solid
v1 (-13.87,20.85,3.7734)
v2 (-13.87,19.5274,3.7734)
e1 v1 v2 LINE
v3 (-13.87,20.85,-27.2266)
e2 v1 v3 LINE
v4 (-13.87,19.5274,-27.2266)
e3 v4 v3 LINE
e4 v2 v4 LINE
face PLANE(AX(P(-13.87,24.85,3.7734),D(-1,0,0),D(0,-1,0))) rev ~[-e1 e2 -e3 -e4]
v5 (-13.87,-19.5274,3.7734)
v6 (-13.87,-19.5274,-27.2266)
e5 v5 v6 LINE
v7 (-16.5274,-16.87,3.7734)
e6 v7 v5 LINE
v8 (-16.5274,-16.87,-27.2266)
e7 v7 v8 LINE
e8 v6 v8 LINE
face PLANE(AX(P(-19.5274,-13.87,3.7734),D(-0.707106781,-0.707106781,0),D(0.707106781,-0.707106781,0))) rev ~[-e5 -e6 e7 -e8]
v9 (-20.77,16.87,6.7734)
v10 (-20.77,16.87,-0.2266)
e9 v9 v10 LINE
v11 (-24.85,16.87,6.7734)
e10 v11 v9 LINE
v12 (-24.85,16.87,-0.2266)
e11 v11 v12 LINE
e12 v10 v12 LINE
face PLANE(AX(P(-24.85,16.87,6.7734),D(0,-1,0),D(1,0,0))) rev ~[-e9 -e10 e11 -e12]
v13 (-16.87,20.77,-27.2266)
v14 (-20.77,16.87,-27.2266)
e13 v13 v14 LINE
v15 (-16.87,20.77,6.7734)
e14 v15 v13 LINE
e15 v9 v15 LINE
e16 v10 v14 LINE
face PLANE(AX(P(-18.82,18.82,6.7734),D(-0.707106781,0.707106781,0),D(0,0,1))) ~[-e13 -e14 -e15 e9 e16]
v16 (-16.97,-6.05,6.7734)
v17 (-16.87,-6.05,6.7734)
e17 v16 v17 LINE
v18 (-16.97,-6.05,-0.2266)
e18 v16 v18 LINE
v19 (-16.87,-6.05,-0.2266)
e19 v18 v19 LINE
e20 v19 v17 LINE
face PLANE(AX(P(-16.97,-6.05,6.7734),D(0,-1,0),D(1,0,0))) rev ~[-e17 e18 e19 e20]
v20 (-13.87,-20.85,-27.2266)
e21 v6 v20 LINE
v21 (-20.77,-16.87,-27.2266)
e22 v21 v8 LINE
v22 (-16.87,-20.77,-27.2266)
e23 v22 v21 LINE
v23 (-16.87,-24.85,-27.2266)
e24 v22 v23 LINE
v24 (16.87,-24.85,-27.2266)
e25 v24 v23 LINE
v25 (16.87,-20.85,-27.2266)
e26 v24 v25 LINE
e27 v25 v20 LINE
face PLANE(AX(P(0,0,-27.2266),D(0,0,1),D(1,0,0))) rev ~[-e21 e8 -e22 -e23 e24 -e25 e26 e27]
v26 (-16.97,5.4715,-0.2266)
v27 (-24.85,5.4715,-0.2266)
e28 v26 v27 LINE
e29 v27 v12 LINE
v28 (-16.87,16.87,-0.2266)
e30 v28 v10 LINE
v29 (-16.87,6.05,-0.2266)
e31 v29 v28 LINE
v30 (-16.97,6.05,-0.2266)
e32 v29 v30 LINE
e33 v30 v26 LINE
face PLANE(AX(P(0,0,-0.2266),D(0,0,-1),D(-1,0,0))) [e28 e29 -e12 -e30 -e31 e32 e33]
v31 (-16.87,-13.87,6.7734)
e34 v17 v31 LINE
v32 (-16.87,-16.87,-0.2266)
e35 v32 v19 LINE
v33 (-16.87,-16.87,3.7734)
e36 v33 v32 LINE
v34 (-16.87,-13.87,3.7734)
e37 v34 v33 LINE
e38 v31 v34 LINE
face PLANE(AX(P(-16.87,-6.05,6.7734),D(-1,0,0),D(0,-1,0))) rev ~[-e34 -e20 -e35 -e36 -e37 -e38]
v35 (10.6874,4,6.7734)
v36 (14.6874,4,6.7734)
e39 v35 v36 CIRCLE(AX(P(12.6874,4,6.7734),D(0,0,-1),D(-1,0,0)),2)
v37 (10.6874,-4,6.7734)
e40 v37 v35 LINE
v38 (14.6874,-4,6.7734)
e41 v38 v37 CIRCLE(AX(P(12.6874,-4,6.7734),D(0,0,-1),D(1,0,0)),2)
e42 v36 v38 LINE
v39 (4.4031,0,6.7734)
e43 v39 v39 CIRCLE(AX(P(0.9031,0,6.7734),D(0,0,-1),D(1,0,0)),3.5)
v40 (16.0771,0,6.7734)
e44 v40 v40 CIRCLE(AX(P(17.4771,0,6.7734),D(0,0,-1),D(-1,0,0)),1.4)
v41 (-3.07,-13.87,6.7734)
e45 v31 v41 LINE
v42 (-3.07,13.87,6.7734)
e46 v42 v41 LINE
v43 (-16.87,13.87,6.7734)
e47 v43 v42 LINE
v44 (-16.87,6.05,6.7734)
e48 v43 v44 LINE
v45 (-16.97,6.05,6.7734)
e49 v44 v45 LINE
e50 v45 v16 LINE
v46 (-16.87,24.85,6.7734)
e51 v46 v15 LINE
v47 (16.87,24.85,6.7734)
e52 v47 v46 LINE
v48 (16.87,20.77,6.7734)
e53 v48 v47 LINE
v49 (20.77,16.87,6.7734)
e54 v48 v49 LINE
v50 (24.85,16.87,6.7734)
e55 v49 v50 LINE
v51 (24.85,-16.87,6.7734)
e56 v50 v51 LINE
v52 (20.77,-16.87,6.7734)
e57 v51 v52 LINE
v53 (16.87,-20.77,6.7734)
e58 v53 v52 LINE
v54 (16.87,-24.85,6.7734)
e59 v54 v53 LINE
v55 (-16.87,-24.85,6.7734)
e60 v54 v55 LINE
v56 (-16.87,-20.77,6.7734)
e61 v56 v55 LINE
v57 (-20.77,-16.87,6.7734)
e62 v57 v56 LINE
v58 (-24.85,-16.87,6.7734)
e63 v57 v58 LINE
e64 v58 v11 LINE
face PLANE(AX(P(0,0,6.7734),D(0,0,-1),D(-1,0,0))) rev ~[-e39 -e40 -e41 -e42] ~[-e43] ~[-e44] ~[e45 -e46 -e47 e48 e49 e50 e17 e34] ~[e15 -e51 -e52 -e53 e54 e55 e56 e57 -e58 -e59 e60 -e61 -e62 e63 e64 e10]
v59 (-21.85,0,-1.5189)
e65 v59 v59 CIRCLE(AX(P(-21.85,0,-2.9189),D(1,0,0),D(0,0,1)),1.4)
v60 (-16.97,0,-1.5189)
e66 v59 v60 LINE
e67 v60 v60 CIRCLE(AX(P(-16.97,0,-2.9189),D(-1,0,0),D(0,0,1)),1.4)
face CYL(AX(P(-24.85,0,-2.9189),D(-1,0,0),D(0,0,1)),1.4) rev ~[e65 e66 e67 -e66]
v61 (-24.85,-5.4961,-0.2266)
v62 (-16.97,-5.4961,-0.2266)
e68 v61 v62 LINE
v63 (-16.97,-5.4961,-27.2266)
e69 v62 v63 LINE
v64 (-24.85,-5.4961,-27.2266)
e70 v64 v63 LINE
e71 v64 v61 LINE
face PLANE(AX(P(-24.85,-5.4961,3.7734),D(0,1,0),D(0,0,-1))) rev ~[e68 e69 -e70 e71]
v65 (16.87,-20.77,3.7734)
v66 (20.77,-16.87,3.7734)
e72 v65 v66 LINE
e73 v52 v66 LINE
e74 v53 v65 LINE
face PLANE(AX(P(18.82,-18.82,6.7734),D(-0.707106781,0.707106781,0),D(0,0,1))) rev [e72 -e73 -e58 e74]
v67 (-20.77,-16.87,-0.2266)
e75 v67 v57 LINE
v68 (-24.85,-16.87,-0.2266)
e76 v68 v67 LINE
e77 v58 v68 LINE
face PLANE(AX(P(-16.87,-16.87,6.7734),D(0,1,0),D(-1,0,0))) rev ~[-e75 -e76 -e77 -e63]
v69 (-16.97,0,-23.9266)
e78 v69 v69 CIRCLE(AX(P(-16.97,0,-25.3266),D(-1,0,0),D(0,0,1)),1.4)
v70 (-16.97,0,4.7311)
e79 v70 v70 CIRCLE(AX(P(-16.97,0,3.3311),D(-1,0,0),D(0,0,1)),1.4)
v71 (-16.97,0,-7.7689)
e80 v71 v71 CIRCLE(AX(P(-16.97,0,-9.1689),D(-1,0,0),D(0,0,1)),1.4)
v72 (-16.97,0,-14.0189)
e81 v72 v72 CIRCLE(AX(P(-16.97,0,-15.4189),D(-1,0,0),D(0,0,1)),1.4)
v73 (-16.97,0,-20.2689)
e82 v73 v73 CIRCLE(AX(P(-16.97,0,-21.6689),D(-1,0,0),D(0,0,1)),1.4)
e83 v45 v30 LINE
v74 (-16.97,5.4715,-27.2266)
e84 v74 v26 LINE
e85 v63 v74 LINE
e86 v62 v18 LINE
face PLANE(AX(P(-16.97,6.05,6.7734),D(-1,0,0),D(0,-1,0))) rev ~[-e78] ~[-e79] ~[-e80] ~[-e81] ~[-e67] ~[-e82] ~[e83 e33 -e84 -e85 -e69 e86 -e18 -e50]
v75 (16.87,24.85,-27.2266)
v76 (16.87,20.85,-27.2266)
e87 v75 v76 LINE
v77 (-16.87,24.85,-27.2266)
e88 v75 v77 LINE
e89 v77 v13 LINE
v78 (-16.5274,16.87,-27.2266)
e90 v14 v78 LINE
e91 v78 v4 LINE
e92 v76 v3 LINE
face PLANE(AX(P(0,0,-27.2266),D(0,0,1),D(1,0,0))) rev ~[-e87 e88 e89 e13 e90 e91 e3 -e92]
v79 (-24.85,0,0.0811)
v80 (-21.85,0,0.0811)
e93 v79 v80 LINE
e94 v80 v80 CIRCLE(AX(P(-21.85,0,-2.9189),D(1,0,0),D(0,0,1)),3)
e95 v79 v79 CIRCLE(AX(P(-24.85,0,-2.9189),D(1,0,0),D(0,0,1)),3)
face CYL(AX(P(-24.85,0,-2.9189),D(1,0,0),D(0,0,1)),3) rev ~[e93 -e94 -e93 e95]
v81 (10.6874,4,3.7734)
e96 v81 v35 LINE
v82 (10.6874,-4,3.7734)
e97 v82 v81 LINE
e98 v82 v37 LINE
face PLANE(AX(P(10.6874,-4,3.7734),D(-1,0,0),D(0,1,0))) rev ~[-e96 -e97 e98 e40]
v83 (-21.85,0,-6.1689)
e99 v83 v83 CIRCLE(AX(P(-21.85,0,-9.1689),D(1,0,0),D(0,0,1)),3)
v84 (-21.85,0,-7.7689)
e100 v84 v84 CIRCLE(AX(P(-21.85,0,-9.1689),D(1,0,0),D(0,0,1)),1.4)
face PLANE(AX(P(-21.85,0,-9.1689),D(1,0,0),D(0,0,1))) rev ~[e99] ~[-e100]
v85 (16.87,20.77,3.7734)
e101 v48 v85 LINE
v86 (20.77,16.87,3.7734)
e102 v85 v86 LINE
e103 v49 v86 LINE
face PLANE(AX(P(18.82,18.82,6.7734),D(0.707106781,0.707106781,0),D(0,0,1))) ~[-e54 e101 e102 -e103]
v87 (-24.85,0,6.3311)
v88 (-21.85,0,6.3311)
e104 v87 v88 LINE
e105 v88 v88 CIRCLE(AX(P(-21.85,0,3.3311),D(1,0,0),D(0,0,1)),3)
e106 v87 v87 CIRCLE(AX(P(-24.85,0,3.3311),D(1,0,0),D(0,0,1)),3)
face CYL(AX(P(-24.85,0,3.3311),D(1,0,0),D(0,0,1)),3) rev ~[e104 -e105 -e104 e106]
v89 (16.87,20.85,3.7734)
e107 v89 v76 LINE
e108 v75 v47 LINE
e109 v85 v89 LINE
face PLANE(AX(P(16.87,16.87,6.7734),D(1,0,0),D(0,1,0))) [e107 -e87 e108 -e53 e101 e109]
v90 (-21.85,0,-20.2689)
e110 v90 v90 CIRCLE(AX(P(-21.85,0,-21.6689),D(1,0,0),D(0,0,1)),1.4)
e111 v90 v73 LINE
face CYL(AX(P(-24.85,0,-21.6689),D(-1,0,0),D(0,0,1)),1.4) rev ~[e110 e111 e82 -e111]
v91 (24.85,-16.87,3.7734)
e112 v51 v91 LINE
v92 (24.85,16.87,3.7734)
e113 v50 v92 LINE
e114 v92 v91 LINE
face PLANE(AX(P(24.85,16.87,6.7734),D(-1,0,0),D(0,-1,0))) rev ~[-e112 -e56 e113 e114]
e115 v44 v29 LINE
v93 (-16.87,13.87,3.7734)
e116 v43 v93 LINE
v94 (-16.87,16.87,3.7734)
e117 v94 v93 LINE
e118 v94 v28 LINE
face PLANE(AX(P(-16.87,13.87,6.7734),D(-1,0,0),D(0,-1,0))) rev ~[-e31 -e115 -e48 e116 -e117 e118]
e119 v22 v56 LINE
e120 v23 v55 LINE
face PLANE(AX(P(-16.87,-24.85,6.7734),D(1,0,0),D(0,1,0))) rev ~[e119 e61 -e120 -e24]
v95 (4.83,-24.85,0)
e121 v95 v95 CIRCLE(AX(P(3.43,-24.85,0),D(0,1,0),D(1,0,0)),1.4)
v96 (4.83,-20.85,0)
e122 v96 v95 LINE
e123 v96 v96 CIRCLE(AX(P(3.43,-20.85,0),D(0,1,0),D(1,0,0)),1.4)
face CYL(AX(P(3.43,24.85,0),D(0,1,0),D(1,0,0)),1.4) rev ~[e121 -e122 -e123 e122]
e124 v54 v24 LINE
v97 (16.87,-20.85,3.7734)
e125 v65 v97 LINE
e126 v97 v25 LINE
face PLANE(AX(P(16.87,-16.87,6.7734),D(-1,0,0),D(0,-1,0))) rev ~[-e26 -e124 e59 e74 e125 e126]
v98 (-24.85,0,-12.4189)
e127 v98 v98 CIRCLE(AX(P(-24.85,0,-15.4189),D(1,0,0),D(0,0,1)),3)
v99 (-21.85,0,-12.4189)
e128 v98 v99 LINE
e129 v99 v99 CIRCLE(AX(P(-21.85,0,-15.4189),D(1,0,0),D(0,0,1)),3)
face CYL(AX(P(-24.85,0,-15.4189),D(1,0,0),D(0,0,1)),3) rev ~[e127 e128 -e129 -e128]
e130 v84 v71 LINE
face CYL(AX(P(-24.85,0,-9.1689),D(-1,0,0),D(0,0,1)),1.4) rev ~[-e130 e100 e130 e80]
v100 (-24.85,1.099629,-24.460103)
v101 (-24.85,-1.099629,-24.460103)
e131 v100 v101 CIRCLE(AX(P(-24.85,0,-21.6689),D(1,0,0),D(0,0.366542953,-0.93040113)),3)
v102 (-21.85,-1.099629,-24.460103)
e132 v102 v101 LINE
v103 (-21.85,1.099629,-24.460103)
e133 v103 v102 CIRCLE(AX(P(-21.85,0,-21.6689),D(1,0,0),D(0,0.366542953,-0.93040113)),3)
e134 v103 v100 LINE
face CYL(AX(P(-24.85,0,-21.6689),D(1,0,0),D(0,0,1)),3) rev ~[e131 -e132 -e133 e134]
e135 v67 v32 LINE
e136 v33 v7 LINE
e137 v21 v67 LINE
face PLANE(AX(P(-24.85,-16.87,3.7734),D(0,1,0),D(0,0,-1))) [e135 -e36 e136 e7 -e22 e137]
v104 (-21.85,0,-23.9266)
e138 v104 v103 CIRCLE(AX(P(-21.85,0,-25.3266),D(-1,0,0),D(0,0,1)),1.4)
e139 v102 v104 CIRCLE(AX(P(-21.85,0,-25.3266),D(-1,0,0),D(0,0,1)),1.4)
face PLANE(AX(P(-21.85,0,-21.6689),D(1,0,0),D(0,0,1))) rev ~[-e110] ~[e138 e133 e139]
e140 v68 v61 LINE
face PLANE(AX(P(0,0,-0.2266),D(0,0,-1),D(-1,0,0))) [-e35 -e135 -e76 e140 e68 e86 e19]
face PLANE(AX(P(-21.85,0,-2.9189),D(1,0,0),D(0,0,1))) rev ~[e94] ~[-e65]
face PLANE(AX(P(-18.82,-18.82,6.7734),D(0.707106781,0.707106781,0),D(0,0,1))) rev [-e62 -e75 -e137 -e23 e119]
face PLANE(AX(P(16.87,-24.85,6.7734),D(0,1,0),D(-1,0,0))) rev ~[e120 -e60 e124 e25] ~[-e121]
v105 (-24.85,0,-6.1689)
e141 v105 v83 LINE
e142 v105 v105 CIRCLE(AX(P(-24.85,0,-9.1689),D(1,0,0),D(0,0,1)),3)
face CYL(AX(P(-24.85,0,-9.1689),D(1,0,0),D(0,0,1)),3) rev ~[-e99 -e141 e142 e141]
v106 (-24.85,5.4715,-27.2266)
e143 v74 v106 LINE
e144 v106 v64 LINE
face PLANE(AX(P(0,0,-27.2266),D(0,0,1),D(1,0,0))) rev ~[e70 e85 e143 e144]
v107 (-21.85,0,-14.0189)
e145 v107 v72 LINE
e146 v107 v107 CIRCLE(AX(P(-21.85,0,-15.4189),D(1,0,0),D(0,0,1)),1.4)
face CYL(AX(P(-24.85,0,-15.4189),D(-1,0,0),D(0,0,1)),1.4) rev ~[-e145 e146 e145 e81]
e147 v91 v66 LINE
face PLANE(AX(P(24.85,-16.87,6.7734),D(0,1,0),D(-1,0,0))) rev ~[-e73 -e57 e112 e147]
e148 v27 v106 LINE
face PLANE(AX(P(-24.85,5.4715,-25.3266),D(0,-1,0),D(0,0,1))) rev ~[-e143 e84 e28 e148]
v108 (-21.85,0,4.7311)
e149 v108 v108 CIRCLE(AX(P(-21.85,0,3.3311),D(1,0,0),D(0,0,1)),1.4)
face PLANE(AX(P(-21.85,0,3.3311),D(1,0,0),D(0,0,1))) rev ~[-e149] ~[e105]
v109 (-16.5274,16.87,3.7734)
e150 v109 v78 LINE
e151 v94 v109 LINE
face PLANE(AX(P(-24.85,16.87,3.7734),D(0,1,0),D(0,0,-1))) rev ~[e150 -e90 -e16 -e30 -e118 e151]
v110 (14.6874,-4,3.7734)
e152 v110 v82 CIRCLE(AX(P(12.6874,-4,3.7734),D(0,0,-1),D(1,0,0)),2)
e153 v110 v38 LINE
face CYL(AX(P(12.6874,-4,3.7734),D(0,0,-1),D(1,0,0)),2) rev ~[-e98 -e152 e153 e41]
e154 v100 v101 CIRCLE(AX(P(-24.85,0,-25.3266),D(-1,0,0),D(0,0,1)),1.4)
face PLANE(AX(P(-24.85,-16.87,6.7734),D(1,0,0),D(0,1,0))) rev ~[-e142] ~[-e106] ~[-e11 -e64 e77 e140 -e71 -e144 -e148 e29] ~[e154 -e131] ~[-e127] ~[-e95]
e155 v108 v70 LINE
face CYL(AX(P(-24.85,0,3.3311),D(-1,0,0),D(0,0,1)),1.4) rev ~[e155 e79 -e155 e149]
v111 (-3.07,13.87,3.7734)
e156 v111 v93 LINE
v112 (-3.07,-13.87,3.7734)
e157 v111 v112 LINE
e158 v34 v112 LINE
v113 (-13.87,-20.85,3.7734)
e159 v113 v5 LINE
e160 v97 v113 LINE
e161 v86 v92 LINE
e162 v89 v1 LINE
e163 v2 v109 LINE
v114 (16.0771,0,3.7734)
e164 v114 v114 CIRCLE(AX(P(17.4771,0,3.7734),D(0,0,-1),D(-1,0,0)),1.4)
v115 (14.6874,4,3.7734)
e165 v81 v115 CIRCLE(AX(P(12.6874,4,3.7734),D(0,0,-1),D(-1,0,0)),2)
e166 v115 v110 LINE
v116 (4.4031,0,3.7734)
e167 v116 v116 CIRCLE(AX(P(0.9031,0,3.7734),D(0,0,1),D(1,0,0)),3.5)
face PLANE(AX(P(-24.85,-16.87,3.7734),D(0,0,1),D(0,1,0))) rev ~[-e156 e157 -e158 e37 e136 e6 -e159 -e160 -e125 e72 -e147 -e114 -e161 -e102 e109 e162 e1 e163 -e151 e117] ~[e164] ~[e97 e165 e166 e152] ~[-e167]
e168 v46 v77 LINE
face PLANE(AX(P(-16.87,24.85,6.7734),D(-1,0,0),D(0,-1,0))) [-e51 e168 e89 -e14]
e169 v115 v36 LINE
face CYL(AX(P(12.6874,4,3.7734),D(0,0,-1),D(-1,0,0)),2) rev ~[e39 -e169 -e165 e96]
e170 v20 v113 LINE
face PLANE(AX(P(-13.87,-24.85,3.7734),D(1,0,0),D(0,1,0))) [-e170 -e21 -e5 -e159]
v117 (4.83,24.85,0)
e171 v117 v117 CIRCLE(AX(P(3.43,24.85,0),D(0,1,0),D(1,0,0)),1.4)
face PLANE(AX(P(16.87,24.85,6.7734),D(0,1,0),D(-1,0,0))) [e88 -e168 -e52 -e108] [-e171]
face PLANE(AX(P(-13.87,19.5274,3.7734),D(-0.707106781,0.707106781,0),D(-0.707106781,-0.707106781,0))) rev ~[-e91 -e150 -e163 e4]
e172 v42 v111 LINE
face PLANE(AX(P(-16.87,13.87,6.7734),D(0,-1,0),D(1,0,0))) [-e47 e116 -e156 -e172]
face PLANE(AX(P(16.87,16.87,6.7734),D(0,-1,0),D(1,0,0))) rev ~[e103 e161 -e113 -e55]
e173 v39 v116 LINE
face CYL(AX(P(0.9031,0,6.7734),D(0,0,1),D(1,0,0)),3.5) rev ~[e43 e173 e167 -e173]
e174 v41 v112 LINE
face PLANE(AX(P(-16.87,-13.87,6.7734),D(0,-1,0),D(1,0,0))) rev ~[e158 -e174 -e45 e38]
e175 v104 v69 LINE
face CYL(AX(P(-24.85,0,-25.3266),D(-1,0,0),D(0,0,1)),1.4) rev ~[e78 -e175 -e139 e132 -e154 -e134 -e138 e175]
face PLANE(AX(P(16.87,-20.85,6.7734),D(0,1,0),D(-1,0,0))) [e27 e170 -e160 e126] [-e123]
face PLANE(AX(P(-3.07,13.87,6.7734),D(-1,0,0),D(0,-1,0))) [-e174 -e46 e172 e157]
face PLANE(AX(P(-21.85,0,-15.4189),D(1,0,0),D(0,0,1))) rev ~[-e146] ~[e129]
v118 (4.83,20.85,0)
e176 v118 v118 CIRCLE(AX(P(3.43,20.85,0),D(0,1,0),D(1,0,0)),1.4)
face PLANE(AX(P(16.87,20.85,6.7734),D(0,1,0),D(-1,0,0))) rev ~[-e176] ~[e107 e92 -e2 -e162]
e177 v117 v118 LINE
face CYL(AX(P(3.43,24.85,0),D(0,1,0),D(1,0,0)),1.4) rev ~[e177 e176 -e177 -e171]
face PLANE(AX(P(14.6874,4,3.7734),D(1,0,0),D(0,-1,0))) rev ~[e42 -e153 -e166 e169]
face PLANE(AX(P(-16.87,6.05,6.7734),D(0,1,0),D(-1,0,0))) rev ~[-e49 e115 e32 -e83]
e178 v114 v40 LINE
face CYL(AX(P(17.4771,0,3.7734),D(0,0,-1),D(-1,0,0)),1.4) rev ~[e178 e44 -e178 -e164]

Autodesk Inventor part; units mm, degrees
ref_plane "Work Plane1" through (0, 0, 6.7734) normal (0, 0, -1) x (-1, 0, 0)
sketch "Sketch1" plane through (0, 0, 6.7734) normal (0, 0, -1) x (-1, 0, 0)
  line L0 (24.85, 16.87) -> (16.87, 16.87)
  line L1 (16.87, -16.87) -> (24.85, -16.87)
  line L2 (24.85, -16.87) -> (24.85, 16.87)
  line L3 (-16.87, 24.85) -> (16.87, 24.85)
  line L4 (16.87, 24.85) -> (16.87, 13.87)
  line L5 (16.87, 13.87) -> (-16.87, 13.87)
  line L6 (-16.87, 13.87) -> (-16.87, 24.85)
  line L7 (-16.87, 16.87) -> (-24.85, 16.87)
  line L8 (-24.85, 16.87) -> (-24.85, -16.87)
  line L9 (-24.85, -16.87) -> (-16.87, -16.87)
  line L10 (-16.87, -24.85) -> (16.87, -24.85)
  line L11 (16.87, -24.85) -> (16.87, -13.87)
  line L12 (16.87, -13.87) -> (-16.87, -13.87)
  line L13 (-16.87, -13.87) -> (-16.87, -24.85)
  circle A0 centre (-22.53, 11.5) radius 1.025 construction
  circle A1 centre (-22.53, -11.5) radius 1.025 construction
  line L14 (-11.03, -14.1) -> (-11.03, -12.75) construction
  arc A2 (-11.03, 12.75) -> (-11.03, -12.75) centre (-11.03, 0) ccw construction
  line L15 (-11.03, 12.75) -> (-11.03, 14.1) construction
  line L16 (-11.03, 14.1) -> (-22.53, 14.1) construction
  arc A3 (-22.53, 14.1) -> (-25.13, 11.5) centre (-22.53, 11.5) ccw construction
  line L17 (-25.13, 11.5) -> (-25.13, -11.5) construction
  arc A4 (-25.13, -11.5) -> (-22.53, -14.1) centre (-22.53, -11.5) ccw construction
  line L18 (-22.53, -14.1) -> (-11.03, -14.1) construction
  circle A5 centre (-11.03, 0) radius 12.75 construction
  circle A6 centre (0.47, 11.5) radius 1.025 construction
  circle A7 centre (0.47, -11.5) radius 1.025 construction
  circle A8 centre (-22.53, -11.5) radius 1.025 construction
  circle A9 centre (-22.53, 11.5) radius 1.025 construction
  line L19 (-22.53, -14.1) -> (0.47, -14.1) construction
  arc A10 (-25.13, -11.5) -> (-22.53, -14.1) centre (-22.53, -11.5) ccw construction
  line L20 (-25.13, 11.5) -> (-25.13, -11.5) construction
  arc A11 (-22.53, 14.1) -> (-25.13, 11.5) centre (-22.53, 11.5) ccw construction
  line L21 (0.47, 14.1) -> (-22.53, 14.1) construction
  arc A12 (3.07, 11.5) -> (0.47, 14.1) centre (0.47, 11.5) ccw construction
  line L22 (3.07, -11.5) -> (3.07, 11.5) construction
  arc A13 (0.47, -14.1) -> (3.07, -11.5) centre (0.47, -11.5) ccw construction
  line L23 (-16.87, 13.87) -> (3.07, 13.87)
  line L24 (3.07, 13.87) -> (3.07, -13.87)
  line L25 (3.07, -13.87) -> (-16.87, -13.87)
  line L26 (16.87, 6.05) -> (16.97, 6.05)
  line L27 (16.97, 6.05) -> (16.97, -6.05)
  line L28 (16.97, -6.05) -> (16.87, -6.05)
  line L29 (16.87, -6.05) -> (16.87, -4.7)
  line L30 (16.87, 4.7) -> (16.87, 6.05)
  line L31 (16.87, 16.87) -> (16.87, 6.05)
  line L32 (16.87, -6.05) -> (16.87, -16.87)
  line L33 (5.77, -13.3) -> (13.57, -13.3) projected
  line L34 (13.57, 13.1) -> (5.77, 13.1) projected
  circle A14 centre (-4.7031, 0) radius 7 construction
  circle A15 centre (-4.7031, 0) radius 4 construction
  point P0 (0, 0)
  point P1 (16.87, 16.87)
  point P2 (3.07, 13.87)
  point P3 (3.07, 13.87)
  point P4 (-16.87, -16.87)
  dimension "d6" = 3
  dimension "d7" = 3
  dimension "d140" = 8
extrude "Extrusion1" add sketch "Sketch1" along normal blind 3 contours L2 L1 L11 L32 L28 L27 L26 L31 L4 L0 | L4 L5 L6 L3 | L11 L10 L13 L12 | L24 L12 L13 L9 L8 L7 L6 L5
chamfer "Chamfer1" distance 3.9 angle 45 4 edges at (-16.87, -16.87, 5.2734) (16.87, -16.87, 5.2734) (16.87, 16.87, 5.2734) (-16.87, 16.87, 5.2734)
sketch "Sketch2" plane through (0, 0, 3.7734) normal (0, 0, -1) x (-1, 0, 0)
  line L0 (3.07, 13.87) -> (16.87, 13.87) projected
  line L1 (16.87, -13.87) -> (3.07, -13.87) projected
  line L2 (-16.87, -20.77) -> (-16.87, -24.85) construction
  line L3 (-16.87, -24.85) -> (16.87, -24.85) construction
  line L4 (16.87, -6.05) -> (16.87, -13.87) projected
  line L5 (16.87, 20.77) -> (16.87, 24.85) construction
  line L6 (16.87, 24.85) -> (-16.87, 24.85) construction
  line L7 (-16.87, 24.85) -> (-16.87, 20.77) construction
  line L8 (-13.8689, -21.8489) -> (-13.8689, -19.5269)
  line L9 (-13.8689, -19.5269) -> (-19.5269, -13.8689)
  line L10 (-19.5269, -13.8689) -> (-21.8489, -13.8689)
  line L11 (-21.8489, 13.8689) -> (-19.5269, 13.8689)
  line L12 (-19.5269, 13.8689) -> (-13.8689, 19.5269)
  line L13 (-13.8689, 19.5269) -> (-13.8689, 21.8489)
  line L14 (-13.8689, 21.8489) -> (-13.8689, 24.85)
  line L15 (-21.8489, 13.8689) -> (-24.85, 13.8689)
  line L16 (-21.8489, -13.8689) -> (-24.85, -13.8689)
  line L17 (-13.8689, -21.8489) -> (-13.8689, -24.85)
  line L18 (-11.5469, -21.8489) -> (-13.8689, -21.8489)
  line L19 (-21.8489, -13.8689) -> (-21.8489, -11.5469)
  line L20 (-21.8489, 11.5469) -> (-21.8489, 13.8689)
  line L21 (-13.8689, 21.8489) -> (-11.5469, 21.8489)
  line L22 (16.87, 13.87) -> (16.87, 6.05) projected
  line L23 (16.87, 6.05) -> (16.97, 6.05) projected
  line L24 (16.97, 6.05) -> (16.97, -6.05) projected
  line L25 (16.97, -6.05) -> (16.87, -6.05) projected
  line L26 (20.77, -16.87) -> (24.85, -16.87) construction
  line L27 (24.85, -16.87) -> (24.85, 16.87) construction
  line L28 (24.85, 16.87) -> (20.77, 16.87) construction
  line L29 (16.87, 20.77) -> (20.77, 16.87) construction
  line L30 (16.87, -24.85) -> (16.87, -20.77) construction
  line L31 (20.77, -16.87) -> (16.87, -20.77) construction
  line L32 (-13.87, 21.85) -> (13.87, 21.85) construction
  line L33 (13.87, 21.85) -> (13.87, 19.5274) construction
  line L34 (13.87, 19.5274) -> (19.5274, 13.87) construction
  line L35 (19.5274, 13.87) -> (21.85, 13.87) construction
  line L36 (21.85, 13.87) -> (21.85, -13.87) construction
  line L37 (21.85, -13.87) -> (19.5274, -13.87) construction
  line L38 (19.5274, -13.87) -> (13.87, -19.5274) construction
  line L39 (13.87, -19.5274) -> (13.87, -21.85) construction
  line L40 (13.87, -21.85) -> (-13.87, -21.85) construction
  line L41 (-13.87, -21.85) -> (-13.87, -19.5274) construction
  line L42 (-13.87, -19.5274) -> (-19.5274, -13.87) construction
  line L43 (-19.5274, -13.87) -> (-21.85, -13.87) construction
  line L44 (-21.85, -13.87) -> (-21.85, 13.87) construction
  line L45 (-21.85, 13.87) -> (-19.5274, 13.87) construction
  line L46 (-19.5274, 13.87) -> (-13.87, 19.5274) construction
  line L47 (-13.87, 19.5274) -> (-13.87, 21.85) construction
  line L48 (16.87, 24.85) -> (-16.87, 24.85) projected
  line L49 (13.87, 24.85) -> (13.87, 19.5274)
  line L50 (13.87, 19.5274) -> (19.5274, 13.87)
  line L51 (19.5274, 13.87) -> (24.85, 13.87)
  line L52 (24.85, -16.87) -> (24.85, 16.87) projected
  line L53 (24.85, -13.87) -> (19.5274, -13.87)
  line L54 (19.5274, -13.87) -> (13.87, -19.5274)
  line L55 (-16.87, -24.85) -> (16.87, -24.85) projected
  line L56 (13.87, -24.85) -> (13.87, -19.5274)
  line L57 (16.87, 24.85) -> (-16.87, 24.85) projected
  line L58 (13.87, 24.85) -> (16.87, 24.85)
  line L59 (16.87, 24.85) -> (16.87, 20.77)
  line L60 (16.87, 20.77) -> (20.77, 16.87)
  line L61 (24.85, 16.87) -> (20.77, 16.87) projected
  line L62 (24.85, 16.87) -> (20.77, 16.87)
  line L63 (24.85, -16.87) -> (24.85, 16.87) projected
  line L64 (24.85, 16.87) -> (24.85, 13.87)
  line L65 (24.85, -13.87) -> (24.85, -16.87)
  line L66 (24.85, -16.87) -> (20.77, -16.87)
  line L67 (20.77, -16.87) -> (16.87, -20.77)
  line L68 (16.87, -24.85) -> (16.87, -20.77) projected
  line L69 (16.87, -24.85) -> (16.87, -20.77)
  line L70 (16.87, -20.77) -> (16.87, -24.85)
  line L71 (16.87, -24.85) -> (-16.87, -24.85) projected
  line L72 (13.87, -24.85) -> (16.87, -24.85)
  line L73 (3.07, -13.87) -> (3.07, 13.87) projected
  line L74 (-20.77, 16.87) -> (-24.85, 16.87) projected
  line L75 (-24.85, 16.87) -> (-24.85, -16.87) projected
  line L76 (-24.85, -16.87) -> (-20.77, -16.87) projected
  line L77 (-16.87, -20.77) -> (-20.77, -16.87) projected
  line L78 (-20.77, 16.87) -> (-16.87, 20.77) projected
  point P0 (0, 0)
  dimension "d115" = 3
ref_plane "Work Plane2" through (-16.97, -24.85, 34.1) normal (0, 0, -1) x (0, 1, 0)
extrude "Extrusion2" add sketch "Sketch2" along normal blind 31.5 contours L56 L54 L53 L52 L66 L67 L68 L55 | L51 L50 L49 L48 L59 L60 L61 L52
sketch "Sketch4" plane through (-24.85, -16.87, 6.7734) normal (-1, 0, 0) x (0, 0, 1)
  line L0 (37.9, 11.3739) -> (37.9, 18.453) construction
  line L1 (23.6194, 18.453) -> (37.9, 18.453) construction
  arc A0 (22.1806, 18.453) -> (23.6194, 18.453) centre (22.9, 16.8577) ccw construction
  line L2 (-1.3806, 18.453) -> (22.1806, 18.453) construction
  arc A1 (-2.8194, 18.453) -> (-1.3806, 18.453) centre (-2.1, 16.8577) ccw construction
  line L3 (-31.3806, 18.453) -> (-2.8194, 18.453) construction
  arc A2 (-32.8194, 18.453) -> (-31.3806, 18.453) centre (-32.1, 16.8577) ccw construction
  line L4 (-42.1, 18.453) -> (-32.8194, 18.453) construction
  line L5 (-42.1, 11.3739) -> (-42.1, 18.453) construction
  line L6 (-42.1, 11.3739) -> (37.9, 11.3739) construction
  line L7 (37.9, 19.2506) -> (37.9, 22.3415) construction
  line L8 (-42.1, 22.3415) -> (37.9, 22.3415) construction
  line L9 (-42.1, 19.2506) -> (-42.1, 22.3415) construction
  line L10 (-42.1, 19.2506) -> (37.9, 19.2506) construction
  line L11 (-3, 3) -> (-3, 30.74) construction
  line L12 (-34.1, 33.84) -> (-34.1, -5.98) construction
  line L13 (-3, 11.3739) -> (-34.1, 11.3739)
  line L14 (-34.1, 11.3739) -> (-34.1, 22.3415)
  line L15 (-34.1, 22.3415) -> (-3, 22.3415)
  line L16 (-3, 22.3415) -> (-3, 11.3739)
  line L17 (-34.1, 11.3739) -> (-32.1, 11.3739)
  line L18 (-32.1, 11.3739) -> (-32.1, 3.0011)
  line L19 (-32.1, 3.0011) -> (-34.1, 3.0011)
  line L20 (-34.1, 3.0011) -> (-34.1, 11.3739)
  line L21 (-34.1, 22.3415) -> (-32.1, 22.3415)
  line L22 (-32.1, 22.3415) -> (-32.1, 30.7389)
  line L23 (-32.1, 30.7389) -> (-34.1, 30.7389)
  line L24 (-34.1, 30.7389) -> (-34.1, 22.3415)
  point P0 (-6.7734, 16.87)
  point P1 (-3, 3.0011)
  point P2 (-3, 30.7389)
  point P3 (-3, 33.74)
  point P4 (-3, 31.418)
  point P5 (-3, 0)
  dimension "d24" = 2
ref_plane "Work Plane3" through (16.97, -5.4961, -37.9) normal (1, 0, 0) x (0, 1, 0)
extrude "Extrusion4" add sketch "Sketch4" against normal blind 7.88 contours L13 L14 L15 L16
sketch "Sketch5" plane through (-24.85, -16.87, 6.7734) normal (-1, 0, 0) x (0, 0, 1)
  circle A0 centre (-32.1, 16.87) radius 1.4
  circle A1 centre (-3.4423, 16.87) radius 1.4
  line L0 (0, -7.98) -> (-34.5, -7.98) projected
  line L1 (0, 41.72) -> (-34.5, 41.72) projected
  line L2 (0, -7.98) -> (-34.5, -7.98) projected
  point P0 (-6.7734, 16.87)
  dimension "d25" = 2.8
  dimension "d26" = 2.8
  dimension "d86" = 49.7
  dimension "d87" = 24.85
  dimension "d88" = 0
extrude "Extrusion5" cut sketch "Sketch5" against normal blind 10
pattern_linear "Rectangular Pattern1" count 5 spacing 6.25 along (0, 0, -1) of "Extrusion5"
ref_plane "Work Plane4" through (-25.03, -12.97, -12) normal (0, 0, 1) x (1, 0, 0)
sketch "Sketch12" plane through (-24.85, -16.87, 6.7734) normal (-1, 0, 0) x (0, 0, 1)
  ellipse E0 centre (-17.053, 16.87) end of major axis (-32.053, 16.87) minor radius 10.6066 projected
  circle A0 centre (-32.1, 16.87) radius 1.4 projected
  circle A1 centre (-22.1923, 16.87) radius 1.4 projected
  circle A2 centre (-15.9423, 16.87) radius 1.4 projected
  circle A3 centre (-9.6923, 16.87) radius 1.4 projected
  circle A4 centre (-3.4423, 16.87) radius 1.4 projected
  circle A5 centre (-28.4423, 16.87) radius 1.4 projected
  point P0 (-6.7734, 16.87)
hole "Hole2" at (-24.85, 0, -15.4189) at (-24.85, 0, -2.9189) at (-24.85, 0, 3.3311) at (-24.85, 0, -9.1689) at (-24.85, 0, -21.6689) direction (1, 0, 0) diameter 2.8 depth 8 tip angle 118 counterbore diameter 6 counterbore depth 3
ref_plane "Work Plane6" through (0, 0, -22) normal (0, 0, -1) x (-1, 0, 0)
ref_plane "Work Plane5" through (-16.97, -16.97, 0) normal (0, 0, 1) x (1, 0, 0)
ref_plane "Work Plane7" through (0, -16.87, 6.7734) normal (1, 0, 0) x (0, 0, -1)
ref_plane "Work Plane8" through (16.87, 0, 6.7734) normal (0, 1, 0) x (-1, 0, 0)
sketch "Skizze18" plane through (-24.85, -16.87, 6.7734) normal (-1, 0, 0) x (0, 0, 1)
  line L0 (0, 0) -> (-34.5, 0) projected
  line L1 (0, 0) -> (0, 33.74) projected
  line L2 (0, 33.74) -> (-34.5, 33.74) projected
  arc A0 (-31.2335, 15.7704) -> (-31.2335, 17.9696) centre (-28.4423, 16.87) ccw projected
  arc A1 (-31.2335, 17.9696) -> (-31.2335, 15.7704) centre (-32.1, 16.87) ccw projected
  circle A2 centre (-3.4423, 16.87) radius 3 projected
  circle A3 centre (-22.1923, 16.87) radius 3 projected
  circle A4 centre (-9.6923, 16.87) radius 3 projected
  circle A5 centre (-15.9423, 16.87) radius 3 projected
  line L3 (-3, 30.7389) -> (-34.5, 30.7389) projected
  line L4 (-34.1, 30.7389) -> (-3, 30.7389)
  line L5 (-3, 30.7389) -> (-3, 33.74)
  line L6 (-3, 33.74) -> (-34.1, 33.74)
  line L7 (-34.1, 33.74) -> (-34.1, 30.7389)
  line L8 (-3, 3.0011) -> (-34.5, 3.0011) projected
  line L9 (0, 0) -> (-34.5, 0) projected
  line L10 (-3, 3.0011) -> (-34.1, 3.0011)
  line L11 (-34.1, 3.0011) -> (-34.1, 0)
  line L12 (-34.1, 0) -> (-3, 0)
  line L13 (-3, 0) -> (-3, 3.0011)
  line L14 (-3, 3) -> (-3, 11.3739) projected
  line L15 (-34.1, 22.3415) -> (-3, 22.3415) projected
  line L16 (-34.1, 11.3739) -> (-34.1, 22.3415) projected
  line L17 (-3, 11.3739) -> (-34.1, 11.3739) projected
  line L18 (-3, 22.3415) -> (-3, 30.74) projected
  line L19 (-34.5, 30.74) -> (-34.5, 33.74) projected
  line L20 (-3, 30.74) -> (-34.5, 30.74) projected
  line L21 (-3, 3) -> (-34.5, 3) projected
  line L22 (-34.5, 0) -> (-34.5, 3) projected
  point P0 (-6.7734, 16.87)
  point P1 (-35.1, 0)
  point P2 (-34.1, 3.0011)
  point P3 (-3, 0)
  point P4 (-34.1, 0)
extrude "Extrusion14" cut sketch "Skizze18" against normal blind 10 contours L0 L11 L8 L13 | L5 L3 L7 L2
sketch "Skizze19" plane through (0, 0, 6.7734) normal (0, 0, 1) x (1, 0, 0)
  line L0 (-34.5437, 37.7032) -> (40.2308, 37.7032)
  line L1 (40.2308, 37.7032) -> (40.2308, -45.0753)
  line L2 (40.2308, -45.0753) -> (-34.5437, -45.0753)
  line L3 (-34.5437, -45.0753) -> (-34.5437, 37.7032)
  point P0 (0, 0)
extrude "Extrusion15" cut sketch "Skizze19" against normal blind 34 keep common part
sketch "Skizze20" plane through (0, 0, 6.7734) normal (0, 0, 1) x (1, 0, 0)
  line L0 (-16.87, 24.85) -> (16.87, 24.85) projected
  line L1 (-16.87, -24.85) -> (16.87, -24.85) projected
  line L2 (16.87, 24.85) -> (16.87, 20.77) projected
  line L3 (-16.87, 24.85) -> (16.87, 24.85)
  line L4 (16.87, 24.85) -> (16.87, 20.85)
  line L5 (16.87, 20.85) -> (-16.87, 20.85)
  line L6 (-16.87, 20.85) -> (-16.87, 24.85)
  line L7 (-16.87, -13.87) -> (-16.87, -13.87) projected
  line L8 (-16.87, -24.85) -> (16.87, -24.85)
  line L9 (16.87, -24.85) -> (16.87, -20.85)
  line L10 (16.87, -20.85) -> (-16.87, -20.85)
  line L11 (-16.87, -20.85) -> (-16.87, -24.85)
  point P0 (0, 0)
  point P1 (-16.87, -20.77)
  point P2 (16.87, -24.85)
  point P3 (-16.87, -20.85)
  point P4 (16.87, 13.87)
  dimension "d104" = 4
  dimension "d105" = 4
extrude "Extrusion16" add sketch "Skizze20" against normal blind 34
sketch "Skizze23" plane through (0, 0, 6.7734) normal (0, 0, 1) x (1, 0, 0)
  circle A0 centre (4.7031, 0) radius 3.5
  circle A1 centre (4.7031, 0) radius 4 projected
  point P0 (0, 0)
  dimension "d118" = 7
extrude "Extrusion19" add sketch "Skizze23" against normal blind 0.5
sketch "Skizze25" plane through (0, 0, 3.7734) normal (0, 0, -1) x (-1, 0, 0)
  line L0 (13.87, 20.85) -> (-16.87, 20.85) projected
  line L1 (-16.87, 20.85) -> (-16.87, 20.77) projected
  line L2 (-20.77, 16.87) -> (-16.87, 20.77) projected
  line L3 (-20.77, 16.87) -> (-24.85, 16.87) projected
  line L4 (-24.85, 16.87) -> (-24.85, -16.87) projected
  line L5 (-24.85, -16.87) -> (-20.77, -16.87) projected
  line L6 (-16.87, -20.77) -> (-20.77, -16.87) projected
  line L7 (-16.87, -20.77) -> (-16.87, -20.85) projected
  line L8 (-16.87, -20.85) -> (13.87, -20.85) projected
  line L9 (13.87, -20.85) -> (13.87, -19.5274) projected
  line L10 (13.87, -19.5274) -> (16.5274, -16.87) projected
  line L11 (20.77, -16.87) -> (16.5274, -16.87) projected
  line L12 (24.85, -16.87) -> (20.77, -16.87) projected
  line L13 (24.85, -16.87) -> (24.85, -5.4961) projected
  line L14 (24.85, -5.4961) -> (16.97, -5.4961) projected
  line L15 (16.97, -5.4961) -> (16.97, -6.05) projected
  line L16 (16.97, -6.05) -> (16.87, -6.05) projected
  line L17 (16.87, -6.05) -> (16.87, -13.87) projected
  line L18 (16.87, -13.87) -> (3.07, -13.87) projected
  line L19 (3.07, -13.87) -> (3.07, 13.87) projected
  line L20 (3.07, 13.87) -> (16.87, 13.87) projected
  line L21 (16.87, 13.87) -> (16.87, 6.05) projected
  line L22 (16.87, 6.05) -> (16.97, 6.05) projected
  line L23 (16.97, 6.05) -> (16.97, 5.4715) projected
  line L24 (16.97, 5.4715) -> (24.85, 5.4715) projected
  line L25 (24.85, 5.4715) -> (24.85, 16.87) projected
  line L26 (20.77, 16.87) -> (24.85, 16.87) projected
  line L27 (20.77, 16.87) -> (16.5274, 16.87) projected
  line L28 (16.5274, 16.87) -> (13.87, 19.5274) projected
  line L29 (13.87, 19.5274) -> (13.87, 20.85) projected
  line L30 (16.87, 13.87) -> (16.87, 16.87)
  line L31 (16.87, -6.05) -> (16.87, -13.87) projected
  line L32 (16.87, -13.87) -> (16.87, -16.87)
  line L33 (20.77, -16.87) -> (16.5274, -16.87) projected
  point P0 (0, 0)
extrude "Extrusion21" add sketch "Skizze25" along normal blind 4 contours L27 L26 L25 L24 L23 L22 L21 L30 | L17 L16 L15 L14 L13 L12 L11 L32
sketch "Skizze26" plane through (-16.87, 24.85, 6.7734) normal (0, 1, 0) x (1, 0, 0)
  line L0 (10.4974, 3) -> (30.1026, 3)
  circle A0 centre (20.3, 6.7734) radius 1.4
  point P0 (16.87, 6.7734)
  dimension "d132" = 2.8
extrude "Extrusion22" cut sketch "Skizze26" against normal through all
sketch "Skizze27" plane through (0, 0, 3.7734) normal (0, 0, -1) x (-1, 0, 0)
  line L0 (-12.6874, -4) -> (-12.6874, 4) construction
  line L1 (-10.6874, -4) -> (-10.6874, 4)
  line L2 (-14.6874, 4) -> (-14.6874, -4)
  arc A0 (-14.6874, -4) -> (-10.6874, -4) centre (-12.6874, -4) ccw
  arc A1 (-10.6874, 4) -> (-14.6874, 4) centre (-12.6874, 4) ccw
  circle A2 centre (-17.4771, 0) radius 1.4
  point P0 (0, 0)
  point P1 (-12.6874, 0)
  dimension "d135" = 4
  dimension "d136" = 4
  dimension "d137" = 2.8
extrude "Extrusion23" cut sketch "Skizze27" against normal through all
sketch "Sketch28" plane through (0, 0, 6.7734) normal (0, 0, 1) x (1, 0, 0)
  circle A0 centre (0.9031, 0) radius 3.5
  circle A1 centre (4.7031, 0) radius 3.5 projected
  point P0 (0, 0)
  dimension "d142" = 7
  dimension "d143" = 3.8
extrude "Extrusion24" cut sketch "Sketch28" against normal blind 10 contours A0 A1 | A1 A0 picked at (3.3004, 0.2878) picked at (-1.2973, 0.2754)
properties part number "30_Cube_Z_Focus_MGN_NEMA_base_belt_pushing_v3"
